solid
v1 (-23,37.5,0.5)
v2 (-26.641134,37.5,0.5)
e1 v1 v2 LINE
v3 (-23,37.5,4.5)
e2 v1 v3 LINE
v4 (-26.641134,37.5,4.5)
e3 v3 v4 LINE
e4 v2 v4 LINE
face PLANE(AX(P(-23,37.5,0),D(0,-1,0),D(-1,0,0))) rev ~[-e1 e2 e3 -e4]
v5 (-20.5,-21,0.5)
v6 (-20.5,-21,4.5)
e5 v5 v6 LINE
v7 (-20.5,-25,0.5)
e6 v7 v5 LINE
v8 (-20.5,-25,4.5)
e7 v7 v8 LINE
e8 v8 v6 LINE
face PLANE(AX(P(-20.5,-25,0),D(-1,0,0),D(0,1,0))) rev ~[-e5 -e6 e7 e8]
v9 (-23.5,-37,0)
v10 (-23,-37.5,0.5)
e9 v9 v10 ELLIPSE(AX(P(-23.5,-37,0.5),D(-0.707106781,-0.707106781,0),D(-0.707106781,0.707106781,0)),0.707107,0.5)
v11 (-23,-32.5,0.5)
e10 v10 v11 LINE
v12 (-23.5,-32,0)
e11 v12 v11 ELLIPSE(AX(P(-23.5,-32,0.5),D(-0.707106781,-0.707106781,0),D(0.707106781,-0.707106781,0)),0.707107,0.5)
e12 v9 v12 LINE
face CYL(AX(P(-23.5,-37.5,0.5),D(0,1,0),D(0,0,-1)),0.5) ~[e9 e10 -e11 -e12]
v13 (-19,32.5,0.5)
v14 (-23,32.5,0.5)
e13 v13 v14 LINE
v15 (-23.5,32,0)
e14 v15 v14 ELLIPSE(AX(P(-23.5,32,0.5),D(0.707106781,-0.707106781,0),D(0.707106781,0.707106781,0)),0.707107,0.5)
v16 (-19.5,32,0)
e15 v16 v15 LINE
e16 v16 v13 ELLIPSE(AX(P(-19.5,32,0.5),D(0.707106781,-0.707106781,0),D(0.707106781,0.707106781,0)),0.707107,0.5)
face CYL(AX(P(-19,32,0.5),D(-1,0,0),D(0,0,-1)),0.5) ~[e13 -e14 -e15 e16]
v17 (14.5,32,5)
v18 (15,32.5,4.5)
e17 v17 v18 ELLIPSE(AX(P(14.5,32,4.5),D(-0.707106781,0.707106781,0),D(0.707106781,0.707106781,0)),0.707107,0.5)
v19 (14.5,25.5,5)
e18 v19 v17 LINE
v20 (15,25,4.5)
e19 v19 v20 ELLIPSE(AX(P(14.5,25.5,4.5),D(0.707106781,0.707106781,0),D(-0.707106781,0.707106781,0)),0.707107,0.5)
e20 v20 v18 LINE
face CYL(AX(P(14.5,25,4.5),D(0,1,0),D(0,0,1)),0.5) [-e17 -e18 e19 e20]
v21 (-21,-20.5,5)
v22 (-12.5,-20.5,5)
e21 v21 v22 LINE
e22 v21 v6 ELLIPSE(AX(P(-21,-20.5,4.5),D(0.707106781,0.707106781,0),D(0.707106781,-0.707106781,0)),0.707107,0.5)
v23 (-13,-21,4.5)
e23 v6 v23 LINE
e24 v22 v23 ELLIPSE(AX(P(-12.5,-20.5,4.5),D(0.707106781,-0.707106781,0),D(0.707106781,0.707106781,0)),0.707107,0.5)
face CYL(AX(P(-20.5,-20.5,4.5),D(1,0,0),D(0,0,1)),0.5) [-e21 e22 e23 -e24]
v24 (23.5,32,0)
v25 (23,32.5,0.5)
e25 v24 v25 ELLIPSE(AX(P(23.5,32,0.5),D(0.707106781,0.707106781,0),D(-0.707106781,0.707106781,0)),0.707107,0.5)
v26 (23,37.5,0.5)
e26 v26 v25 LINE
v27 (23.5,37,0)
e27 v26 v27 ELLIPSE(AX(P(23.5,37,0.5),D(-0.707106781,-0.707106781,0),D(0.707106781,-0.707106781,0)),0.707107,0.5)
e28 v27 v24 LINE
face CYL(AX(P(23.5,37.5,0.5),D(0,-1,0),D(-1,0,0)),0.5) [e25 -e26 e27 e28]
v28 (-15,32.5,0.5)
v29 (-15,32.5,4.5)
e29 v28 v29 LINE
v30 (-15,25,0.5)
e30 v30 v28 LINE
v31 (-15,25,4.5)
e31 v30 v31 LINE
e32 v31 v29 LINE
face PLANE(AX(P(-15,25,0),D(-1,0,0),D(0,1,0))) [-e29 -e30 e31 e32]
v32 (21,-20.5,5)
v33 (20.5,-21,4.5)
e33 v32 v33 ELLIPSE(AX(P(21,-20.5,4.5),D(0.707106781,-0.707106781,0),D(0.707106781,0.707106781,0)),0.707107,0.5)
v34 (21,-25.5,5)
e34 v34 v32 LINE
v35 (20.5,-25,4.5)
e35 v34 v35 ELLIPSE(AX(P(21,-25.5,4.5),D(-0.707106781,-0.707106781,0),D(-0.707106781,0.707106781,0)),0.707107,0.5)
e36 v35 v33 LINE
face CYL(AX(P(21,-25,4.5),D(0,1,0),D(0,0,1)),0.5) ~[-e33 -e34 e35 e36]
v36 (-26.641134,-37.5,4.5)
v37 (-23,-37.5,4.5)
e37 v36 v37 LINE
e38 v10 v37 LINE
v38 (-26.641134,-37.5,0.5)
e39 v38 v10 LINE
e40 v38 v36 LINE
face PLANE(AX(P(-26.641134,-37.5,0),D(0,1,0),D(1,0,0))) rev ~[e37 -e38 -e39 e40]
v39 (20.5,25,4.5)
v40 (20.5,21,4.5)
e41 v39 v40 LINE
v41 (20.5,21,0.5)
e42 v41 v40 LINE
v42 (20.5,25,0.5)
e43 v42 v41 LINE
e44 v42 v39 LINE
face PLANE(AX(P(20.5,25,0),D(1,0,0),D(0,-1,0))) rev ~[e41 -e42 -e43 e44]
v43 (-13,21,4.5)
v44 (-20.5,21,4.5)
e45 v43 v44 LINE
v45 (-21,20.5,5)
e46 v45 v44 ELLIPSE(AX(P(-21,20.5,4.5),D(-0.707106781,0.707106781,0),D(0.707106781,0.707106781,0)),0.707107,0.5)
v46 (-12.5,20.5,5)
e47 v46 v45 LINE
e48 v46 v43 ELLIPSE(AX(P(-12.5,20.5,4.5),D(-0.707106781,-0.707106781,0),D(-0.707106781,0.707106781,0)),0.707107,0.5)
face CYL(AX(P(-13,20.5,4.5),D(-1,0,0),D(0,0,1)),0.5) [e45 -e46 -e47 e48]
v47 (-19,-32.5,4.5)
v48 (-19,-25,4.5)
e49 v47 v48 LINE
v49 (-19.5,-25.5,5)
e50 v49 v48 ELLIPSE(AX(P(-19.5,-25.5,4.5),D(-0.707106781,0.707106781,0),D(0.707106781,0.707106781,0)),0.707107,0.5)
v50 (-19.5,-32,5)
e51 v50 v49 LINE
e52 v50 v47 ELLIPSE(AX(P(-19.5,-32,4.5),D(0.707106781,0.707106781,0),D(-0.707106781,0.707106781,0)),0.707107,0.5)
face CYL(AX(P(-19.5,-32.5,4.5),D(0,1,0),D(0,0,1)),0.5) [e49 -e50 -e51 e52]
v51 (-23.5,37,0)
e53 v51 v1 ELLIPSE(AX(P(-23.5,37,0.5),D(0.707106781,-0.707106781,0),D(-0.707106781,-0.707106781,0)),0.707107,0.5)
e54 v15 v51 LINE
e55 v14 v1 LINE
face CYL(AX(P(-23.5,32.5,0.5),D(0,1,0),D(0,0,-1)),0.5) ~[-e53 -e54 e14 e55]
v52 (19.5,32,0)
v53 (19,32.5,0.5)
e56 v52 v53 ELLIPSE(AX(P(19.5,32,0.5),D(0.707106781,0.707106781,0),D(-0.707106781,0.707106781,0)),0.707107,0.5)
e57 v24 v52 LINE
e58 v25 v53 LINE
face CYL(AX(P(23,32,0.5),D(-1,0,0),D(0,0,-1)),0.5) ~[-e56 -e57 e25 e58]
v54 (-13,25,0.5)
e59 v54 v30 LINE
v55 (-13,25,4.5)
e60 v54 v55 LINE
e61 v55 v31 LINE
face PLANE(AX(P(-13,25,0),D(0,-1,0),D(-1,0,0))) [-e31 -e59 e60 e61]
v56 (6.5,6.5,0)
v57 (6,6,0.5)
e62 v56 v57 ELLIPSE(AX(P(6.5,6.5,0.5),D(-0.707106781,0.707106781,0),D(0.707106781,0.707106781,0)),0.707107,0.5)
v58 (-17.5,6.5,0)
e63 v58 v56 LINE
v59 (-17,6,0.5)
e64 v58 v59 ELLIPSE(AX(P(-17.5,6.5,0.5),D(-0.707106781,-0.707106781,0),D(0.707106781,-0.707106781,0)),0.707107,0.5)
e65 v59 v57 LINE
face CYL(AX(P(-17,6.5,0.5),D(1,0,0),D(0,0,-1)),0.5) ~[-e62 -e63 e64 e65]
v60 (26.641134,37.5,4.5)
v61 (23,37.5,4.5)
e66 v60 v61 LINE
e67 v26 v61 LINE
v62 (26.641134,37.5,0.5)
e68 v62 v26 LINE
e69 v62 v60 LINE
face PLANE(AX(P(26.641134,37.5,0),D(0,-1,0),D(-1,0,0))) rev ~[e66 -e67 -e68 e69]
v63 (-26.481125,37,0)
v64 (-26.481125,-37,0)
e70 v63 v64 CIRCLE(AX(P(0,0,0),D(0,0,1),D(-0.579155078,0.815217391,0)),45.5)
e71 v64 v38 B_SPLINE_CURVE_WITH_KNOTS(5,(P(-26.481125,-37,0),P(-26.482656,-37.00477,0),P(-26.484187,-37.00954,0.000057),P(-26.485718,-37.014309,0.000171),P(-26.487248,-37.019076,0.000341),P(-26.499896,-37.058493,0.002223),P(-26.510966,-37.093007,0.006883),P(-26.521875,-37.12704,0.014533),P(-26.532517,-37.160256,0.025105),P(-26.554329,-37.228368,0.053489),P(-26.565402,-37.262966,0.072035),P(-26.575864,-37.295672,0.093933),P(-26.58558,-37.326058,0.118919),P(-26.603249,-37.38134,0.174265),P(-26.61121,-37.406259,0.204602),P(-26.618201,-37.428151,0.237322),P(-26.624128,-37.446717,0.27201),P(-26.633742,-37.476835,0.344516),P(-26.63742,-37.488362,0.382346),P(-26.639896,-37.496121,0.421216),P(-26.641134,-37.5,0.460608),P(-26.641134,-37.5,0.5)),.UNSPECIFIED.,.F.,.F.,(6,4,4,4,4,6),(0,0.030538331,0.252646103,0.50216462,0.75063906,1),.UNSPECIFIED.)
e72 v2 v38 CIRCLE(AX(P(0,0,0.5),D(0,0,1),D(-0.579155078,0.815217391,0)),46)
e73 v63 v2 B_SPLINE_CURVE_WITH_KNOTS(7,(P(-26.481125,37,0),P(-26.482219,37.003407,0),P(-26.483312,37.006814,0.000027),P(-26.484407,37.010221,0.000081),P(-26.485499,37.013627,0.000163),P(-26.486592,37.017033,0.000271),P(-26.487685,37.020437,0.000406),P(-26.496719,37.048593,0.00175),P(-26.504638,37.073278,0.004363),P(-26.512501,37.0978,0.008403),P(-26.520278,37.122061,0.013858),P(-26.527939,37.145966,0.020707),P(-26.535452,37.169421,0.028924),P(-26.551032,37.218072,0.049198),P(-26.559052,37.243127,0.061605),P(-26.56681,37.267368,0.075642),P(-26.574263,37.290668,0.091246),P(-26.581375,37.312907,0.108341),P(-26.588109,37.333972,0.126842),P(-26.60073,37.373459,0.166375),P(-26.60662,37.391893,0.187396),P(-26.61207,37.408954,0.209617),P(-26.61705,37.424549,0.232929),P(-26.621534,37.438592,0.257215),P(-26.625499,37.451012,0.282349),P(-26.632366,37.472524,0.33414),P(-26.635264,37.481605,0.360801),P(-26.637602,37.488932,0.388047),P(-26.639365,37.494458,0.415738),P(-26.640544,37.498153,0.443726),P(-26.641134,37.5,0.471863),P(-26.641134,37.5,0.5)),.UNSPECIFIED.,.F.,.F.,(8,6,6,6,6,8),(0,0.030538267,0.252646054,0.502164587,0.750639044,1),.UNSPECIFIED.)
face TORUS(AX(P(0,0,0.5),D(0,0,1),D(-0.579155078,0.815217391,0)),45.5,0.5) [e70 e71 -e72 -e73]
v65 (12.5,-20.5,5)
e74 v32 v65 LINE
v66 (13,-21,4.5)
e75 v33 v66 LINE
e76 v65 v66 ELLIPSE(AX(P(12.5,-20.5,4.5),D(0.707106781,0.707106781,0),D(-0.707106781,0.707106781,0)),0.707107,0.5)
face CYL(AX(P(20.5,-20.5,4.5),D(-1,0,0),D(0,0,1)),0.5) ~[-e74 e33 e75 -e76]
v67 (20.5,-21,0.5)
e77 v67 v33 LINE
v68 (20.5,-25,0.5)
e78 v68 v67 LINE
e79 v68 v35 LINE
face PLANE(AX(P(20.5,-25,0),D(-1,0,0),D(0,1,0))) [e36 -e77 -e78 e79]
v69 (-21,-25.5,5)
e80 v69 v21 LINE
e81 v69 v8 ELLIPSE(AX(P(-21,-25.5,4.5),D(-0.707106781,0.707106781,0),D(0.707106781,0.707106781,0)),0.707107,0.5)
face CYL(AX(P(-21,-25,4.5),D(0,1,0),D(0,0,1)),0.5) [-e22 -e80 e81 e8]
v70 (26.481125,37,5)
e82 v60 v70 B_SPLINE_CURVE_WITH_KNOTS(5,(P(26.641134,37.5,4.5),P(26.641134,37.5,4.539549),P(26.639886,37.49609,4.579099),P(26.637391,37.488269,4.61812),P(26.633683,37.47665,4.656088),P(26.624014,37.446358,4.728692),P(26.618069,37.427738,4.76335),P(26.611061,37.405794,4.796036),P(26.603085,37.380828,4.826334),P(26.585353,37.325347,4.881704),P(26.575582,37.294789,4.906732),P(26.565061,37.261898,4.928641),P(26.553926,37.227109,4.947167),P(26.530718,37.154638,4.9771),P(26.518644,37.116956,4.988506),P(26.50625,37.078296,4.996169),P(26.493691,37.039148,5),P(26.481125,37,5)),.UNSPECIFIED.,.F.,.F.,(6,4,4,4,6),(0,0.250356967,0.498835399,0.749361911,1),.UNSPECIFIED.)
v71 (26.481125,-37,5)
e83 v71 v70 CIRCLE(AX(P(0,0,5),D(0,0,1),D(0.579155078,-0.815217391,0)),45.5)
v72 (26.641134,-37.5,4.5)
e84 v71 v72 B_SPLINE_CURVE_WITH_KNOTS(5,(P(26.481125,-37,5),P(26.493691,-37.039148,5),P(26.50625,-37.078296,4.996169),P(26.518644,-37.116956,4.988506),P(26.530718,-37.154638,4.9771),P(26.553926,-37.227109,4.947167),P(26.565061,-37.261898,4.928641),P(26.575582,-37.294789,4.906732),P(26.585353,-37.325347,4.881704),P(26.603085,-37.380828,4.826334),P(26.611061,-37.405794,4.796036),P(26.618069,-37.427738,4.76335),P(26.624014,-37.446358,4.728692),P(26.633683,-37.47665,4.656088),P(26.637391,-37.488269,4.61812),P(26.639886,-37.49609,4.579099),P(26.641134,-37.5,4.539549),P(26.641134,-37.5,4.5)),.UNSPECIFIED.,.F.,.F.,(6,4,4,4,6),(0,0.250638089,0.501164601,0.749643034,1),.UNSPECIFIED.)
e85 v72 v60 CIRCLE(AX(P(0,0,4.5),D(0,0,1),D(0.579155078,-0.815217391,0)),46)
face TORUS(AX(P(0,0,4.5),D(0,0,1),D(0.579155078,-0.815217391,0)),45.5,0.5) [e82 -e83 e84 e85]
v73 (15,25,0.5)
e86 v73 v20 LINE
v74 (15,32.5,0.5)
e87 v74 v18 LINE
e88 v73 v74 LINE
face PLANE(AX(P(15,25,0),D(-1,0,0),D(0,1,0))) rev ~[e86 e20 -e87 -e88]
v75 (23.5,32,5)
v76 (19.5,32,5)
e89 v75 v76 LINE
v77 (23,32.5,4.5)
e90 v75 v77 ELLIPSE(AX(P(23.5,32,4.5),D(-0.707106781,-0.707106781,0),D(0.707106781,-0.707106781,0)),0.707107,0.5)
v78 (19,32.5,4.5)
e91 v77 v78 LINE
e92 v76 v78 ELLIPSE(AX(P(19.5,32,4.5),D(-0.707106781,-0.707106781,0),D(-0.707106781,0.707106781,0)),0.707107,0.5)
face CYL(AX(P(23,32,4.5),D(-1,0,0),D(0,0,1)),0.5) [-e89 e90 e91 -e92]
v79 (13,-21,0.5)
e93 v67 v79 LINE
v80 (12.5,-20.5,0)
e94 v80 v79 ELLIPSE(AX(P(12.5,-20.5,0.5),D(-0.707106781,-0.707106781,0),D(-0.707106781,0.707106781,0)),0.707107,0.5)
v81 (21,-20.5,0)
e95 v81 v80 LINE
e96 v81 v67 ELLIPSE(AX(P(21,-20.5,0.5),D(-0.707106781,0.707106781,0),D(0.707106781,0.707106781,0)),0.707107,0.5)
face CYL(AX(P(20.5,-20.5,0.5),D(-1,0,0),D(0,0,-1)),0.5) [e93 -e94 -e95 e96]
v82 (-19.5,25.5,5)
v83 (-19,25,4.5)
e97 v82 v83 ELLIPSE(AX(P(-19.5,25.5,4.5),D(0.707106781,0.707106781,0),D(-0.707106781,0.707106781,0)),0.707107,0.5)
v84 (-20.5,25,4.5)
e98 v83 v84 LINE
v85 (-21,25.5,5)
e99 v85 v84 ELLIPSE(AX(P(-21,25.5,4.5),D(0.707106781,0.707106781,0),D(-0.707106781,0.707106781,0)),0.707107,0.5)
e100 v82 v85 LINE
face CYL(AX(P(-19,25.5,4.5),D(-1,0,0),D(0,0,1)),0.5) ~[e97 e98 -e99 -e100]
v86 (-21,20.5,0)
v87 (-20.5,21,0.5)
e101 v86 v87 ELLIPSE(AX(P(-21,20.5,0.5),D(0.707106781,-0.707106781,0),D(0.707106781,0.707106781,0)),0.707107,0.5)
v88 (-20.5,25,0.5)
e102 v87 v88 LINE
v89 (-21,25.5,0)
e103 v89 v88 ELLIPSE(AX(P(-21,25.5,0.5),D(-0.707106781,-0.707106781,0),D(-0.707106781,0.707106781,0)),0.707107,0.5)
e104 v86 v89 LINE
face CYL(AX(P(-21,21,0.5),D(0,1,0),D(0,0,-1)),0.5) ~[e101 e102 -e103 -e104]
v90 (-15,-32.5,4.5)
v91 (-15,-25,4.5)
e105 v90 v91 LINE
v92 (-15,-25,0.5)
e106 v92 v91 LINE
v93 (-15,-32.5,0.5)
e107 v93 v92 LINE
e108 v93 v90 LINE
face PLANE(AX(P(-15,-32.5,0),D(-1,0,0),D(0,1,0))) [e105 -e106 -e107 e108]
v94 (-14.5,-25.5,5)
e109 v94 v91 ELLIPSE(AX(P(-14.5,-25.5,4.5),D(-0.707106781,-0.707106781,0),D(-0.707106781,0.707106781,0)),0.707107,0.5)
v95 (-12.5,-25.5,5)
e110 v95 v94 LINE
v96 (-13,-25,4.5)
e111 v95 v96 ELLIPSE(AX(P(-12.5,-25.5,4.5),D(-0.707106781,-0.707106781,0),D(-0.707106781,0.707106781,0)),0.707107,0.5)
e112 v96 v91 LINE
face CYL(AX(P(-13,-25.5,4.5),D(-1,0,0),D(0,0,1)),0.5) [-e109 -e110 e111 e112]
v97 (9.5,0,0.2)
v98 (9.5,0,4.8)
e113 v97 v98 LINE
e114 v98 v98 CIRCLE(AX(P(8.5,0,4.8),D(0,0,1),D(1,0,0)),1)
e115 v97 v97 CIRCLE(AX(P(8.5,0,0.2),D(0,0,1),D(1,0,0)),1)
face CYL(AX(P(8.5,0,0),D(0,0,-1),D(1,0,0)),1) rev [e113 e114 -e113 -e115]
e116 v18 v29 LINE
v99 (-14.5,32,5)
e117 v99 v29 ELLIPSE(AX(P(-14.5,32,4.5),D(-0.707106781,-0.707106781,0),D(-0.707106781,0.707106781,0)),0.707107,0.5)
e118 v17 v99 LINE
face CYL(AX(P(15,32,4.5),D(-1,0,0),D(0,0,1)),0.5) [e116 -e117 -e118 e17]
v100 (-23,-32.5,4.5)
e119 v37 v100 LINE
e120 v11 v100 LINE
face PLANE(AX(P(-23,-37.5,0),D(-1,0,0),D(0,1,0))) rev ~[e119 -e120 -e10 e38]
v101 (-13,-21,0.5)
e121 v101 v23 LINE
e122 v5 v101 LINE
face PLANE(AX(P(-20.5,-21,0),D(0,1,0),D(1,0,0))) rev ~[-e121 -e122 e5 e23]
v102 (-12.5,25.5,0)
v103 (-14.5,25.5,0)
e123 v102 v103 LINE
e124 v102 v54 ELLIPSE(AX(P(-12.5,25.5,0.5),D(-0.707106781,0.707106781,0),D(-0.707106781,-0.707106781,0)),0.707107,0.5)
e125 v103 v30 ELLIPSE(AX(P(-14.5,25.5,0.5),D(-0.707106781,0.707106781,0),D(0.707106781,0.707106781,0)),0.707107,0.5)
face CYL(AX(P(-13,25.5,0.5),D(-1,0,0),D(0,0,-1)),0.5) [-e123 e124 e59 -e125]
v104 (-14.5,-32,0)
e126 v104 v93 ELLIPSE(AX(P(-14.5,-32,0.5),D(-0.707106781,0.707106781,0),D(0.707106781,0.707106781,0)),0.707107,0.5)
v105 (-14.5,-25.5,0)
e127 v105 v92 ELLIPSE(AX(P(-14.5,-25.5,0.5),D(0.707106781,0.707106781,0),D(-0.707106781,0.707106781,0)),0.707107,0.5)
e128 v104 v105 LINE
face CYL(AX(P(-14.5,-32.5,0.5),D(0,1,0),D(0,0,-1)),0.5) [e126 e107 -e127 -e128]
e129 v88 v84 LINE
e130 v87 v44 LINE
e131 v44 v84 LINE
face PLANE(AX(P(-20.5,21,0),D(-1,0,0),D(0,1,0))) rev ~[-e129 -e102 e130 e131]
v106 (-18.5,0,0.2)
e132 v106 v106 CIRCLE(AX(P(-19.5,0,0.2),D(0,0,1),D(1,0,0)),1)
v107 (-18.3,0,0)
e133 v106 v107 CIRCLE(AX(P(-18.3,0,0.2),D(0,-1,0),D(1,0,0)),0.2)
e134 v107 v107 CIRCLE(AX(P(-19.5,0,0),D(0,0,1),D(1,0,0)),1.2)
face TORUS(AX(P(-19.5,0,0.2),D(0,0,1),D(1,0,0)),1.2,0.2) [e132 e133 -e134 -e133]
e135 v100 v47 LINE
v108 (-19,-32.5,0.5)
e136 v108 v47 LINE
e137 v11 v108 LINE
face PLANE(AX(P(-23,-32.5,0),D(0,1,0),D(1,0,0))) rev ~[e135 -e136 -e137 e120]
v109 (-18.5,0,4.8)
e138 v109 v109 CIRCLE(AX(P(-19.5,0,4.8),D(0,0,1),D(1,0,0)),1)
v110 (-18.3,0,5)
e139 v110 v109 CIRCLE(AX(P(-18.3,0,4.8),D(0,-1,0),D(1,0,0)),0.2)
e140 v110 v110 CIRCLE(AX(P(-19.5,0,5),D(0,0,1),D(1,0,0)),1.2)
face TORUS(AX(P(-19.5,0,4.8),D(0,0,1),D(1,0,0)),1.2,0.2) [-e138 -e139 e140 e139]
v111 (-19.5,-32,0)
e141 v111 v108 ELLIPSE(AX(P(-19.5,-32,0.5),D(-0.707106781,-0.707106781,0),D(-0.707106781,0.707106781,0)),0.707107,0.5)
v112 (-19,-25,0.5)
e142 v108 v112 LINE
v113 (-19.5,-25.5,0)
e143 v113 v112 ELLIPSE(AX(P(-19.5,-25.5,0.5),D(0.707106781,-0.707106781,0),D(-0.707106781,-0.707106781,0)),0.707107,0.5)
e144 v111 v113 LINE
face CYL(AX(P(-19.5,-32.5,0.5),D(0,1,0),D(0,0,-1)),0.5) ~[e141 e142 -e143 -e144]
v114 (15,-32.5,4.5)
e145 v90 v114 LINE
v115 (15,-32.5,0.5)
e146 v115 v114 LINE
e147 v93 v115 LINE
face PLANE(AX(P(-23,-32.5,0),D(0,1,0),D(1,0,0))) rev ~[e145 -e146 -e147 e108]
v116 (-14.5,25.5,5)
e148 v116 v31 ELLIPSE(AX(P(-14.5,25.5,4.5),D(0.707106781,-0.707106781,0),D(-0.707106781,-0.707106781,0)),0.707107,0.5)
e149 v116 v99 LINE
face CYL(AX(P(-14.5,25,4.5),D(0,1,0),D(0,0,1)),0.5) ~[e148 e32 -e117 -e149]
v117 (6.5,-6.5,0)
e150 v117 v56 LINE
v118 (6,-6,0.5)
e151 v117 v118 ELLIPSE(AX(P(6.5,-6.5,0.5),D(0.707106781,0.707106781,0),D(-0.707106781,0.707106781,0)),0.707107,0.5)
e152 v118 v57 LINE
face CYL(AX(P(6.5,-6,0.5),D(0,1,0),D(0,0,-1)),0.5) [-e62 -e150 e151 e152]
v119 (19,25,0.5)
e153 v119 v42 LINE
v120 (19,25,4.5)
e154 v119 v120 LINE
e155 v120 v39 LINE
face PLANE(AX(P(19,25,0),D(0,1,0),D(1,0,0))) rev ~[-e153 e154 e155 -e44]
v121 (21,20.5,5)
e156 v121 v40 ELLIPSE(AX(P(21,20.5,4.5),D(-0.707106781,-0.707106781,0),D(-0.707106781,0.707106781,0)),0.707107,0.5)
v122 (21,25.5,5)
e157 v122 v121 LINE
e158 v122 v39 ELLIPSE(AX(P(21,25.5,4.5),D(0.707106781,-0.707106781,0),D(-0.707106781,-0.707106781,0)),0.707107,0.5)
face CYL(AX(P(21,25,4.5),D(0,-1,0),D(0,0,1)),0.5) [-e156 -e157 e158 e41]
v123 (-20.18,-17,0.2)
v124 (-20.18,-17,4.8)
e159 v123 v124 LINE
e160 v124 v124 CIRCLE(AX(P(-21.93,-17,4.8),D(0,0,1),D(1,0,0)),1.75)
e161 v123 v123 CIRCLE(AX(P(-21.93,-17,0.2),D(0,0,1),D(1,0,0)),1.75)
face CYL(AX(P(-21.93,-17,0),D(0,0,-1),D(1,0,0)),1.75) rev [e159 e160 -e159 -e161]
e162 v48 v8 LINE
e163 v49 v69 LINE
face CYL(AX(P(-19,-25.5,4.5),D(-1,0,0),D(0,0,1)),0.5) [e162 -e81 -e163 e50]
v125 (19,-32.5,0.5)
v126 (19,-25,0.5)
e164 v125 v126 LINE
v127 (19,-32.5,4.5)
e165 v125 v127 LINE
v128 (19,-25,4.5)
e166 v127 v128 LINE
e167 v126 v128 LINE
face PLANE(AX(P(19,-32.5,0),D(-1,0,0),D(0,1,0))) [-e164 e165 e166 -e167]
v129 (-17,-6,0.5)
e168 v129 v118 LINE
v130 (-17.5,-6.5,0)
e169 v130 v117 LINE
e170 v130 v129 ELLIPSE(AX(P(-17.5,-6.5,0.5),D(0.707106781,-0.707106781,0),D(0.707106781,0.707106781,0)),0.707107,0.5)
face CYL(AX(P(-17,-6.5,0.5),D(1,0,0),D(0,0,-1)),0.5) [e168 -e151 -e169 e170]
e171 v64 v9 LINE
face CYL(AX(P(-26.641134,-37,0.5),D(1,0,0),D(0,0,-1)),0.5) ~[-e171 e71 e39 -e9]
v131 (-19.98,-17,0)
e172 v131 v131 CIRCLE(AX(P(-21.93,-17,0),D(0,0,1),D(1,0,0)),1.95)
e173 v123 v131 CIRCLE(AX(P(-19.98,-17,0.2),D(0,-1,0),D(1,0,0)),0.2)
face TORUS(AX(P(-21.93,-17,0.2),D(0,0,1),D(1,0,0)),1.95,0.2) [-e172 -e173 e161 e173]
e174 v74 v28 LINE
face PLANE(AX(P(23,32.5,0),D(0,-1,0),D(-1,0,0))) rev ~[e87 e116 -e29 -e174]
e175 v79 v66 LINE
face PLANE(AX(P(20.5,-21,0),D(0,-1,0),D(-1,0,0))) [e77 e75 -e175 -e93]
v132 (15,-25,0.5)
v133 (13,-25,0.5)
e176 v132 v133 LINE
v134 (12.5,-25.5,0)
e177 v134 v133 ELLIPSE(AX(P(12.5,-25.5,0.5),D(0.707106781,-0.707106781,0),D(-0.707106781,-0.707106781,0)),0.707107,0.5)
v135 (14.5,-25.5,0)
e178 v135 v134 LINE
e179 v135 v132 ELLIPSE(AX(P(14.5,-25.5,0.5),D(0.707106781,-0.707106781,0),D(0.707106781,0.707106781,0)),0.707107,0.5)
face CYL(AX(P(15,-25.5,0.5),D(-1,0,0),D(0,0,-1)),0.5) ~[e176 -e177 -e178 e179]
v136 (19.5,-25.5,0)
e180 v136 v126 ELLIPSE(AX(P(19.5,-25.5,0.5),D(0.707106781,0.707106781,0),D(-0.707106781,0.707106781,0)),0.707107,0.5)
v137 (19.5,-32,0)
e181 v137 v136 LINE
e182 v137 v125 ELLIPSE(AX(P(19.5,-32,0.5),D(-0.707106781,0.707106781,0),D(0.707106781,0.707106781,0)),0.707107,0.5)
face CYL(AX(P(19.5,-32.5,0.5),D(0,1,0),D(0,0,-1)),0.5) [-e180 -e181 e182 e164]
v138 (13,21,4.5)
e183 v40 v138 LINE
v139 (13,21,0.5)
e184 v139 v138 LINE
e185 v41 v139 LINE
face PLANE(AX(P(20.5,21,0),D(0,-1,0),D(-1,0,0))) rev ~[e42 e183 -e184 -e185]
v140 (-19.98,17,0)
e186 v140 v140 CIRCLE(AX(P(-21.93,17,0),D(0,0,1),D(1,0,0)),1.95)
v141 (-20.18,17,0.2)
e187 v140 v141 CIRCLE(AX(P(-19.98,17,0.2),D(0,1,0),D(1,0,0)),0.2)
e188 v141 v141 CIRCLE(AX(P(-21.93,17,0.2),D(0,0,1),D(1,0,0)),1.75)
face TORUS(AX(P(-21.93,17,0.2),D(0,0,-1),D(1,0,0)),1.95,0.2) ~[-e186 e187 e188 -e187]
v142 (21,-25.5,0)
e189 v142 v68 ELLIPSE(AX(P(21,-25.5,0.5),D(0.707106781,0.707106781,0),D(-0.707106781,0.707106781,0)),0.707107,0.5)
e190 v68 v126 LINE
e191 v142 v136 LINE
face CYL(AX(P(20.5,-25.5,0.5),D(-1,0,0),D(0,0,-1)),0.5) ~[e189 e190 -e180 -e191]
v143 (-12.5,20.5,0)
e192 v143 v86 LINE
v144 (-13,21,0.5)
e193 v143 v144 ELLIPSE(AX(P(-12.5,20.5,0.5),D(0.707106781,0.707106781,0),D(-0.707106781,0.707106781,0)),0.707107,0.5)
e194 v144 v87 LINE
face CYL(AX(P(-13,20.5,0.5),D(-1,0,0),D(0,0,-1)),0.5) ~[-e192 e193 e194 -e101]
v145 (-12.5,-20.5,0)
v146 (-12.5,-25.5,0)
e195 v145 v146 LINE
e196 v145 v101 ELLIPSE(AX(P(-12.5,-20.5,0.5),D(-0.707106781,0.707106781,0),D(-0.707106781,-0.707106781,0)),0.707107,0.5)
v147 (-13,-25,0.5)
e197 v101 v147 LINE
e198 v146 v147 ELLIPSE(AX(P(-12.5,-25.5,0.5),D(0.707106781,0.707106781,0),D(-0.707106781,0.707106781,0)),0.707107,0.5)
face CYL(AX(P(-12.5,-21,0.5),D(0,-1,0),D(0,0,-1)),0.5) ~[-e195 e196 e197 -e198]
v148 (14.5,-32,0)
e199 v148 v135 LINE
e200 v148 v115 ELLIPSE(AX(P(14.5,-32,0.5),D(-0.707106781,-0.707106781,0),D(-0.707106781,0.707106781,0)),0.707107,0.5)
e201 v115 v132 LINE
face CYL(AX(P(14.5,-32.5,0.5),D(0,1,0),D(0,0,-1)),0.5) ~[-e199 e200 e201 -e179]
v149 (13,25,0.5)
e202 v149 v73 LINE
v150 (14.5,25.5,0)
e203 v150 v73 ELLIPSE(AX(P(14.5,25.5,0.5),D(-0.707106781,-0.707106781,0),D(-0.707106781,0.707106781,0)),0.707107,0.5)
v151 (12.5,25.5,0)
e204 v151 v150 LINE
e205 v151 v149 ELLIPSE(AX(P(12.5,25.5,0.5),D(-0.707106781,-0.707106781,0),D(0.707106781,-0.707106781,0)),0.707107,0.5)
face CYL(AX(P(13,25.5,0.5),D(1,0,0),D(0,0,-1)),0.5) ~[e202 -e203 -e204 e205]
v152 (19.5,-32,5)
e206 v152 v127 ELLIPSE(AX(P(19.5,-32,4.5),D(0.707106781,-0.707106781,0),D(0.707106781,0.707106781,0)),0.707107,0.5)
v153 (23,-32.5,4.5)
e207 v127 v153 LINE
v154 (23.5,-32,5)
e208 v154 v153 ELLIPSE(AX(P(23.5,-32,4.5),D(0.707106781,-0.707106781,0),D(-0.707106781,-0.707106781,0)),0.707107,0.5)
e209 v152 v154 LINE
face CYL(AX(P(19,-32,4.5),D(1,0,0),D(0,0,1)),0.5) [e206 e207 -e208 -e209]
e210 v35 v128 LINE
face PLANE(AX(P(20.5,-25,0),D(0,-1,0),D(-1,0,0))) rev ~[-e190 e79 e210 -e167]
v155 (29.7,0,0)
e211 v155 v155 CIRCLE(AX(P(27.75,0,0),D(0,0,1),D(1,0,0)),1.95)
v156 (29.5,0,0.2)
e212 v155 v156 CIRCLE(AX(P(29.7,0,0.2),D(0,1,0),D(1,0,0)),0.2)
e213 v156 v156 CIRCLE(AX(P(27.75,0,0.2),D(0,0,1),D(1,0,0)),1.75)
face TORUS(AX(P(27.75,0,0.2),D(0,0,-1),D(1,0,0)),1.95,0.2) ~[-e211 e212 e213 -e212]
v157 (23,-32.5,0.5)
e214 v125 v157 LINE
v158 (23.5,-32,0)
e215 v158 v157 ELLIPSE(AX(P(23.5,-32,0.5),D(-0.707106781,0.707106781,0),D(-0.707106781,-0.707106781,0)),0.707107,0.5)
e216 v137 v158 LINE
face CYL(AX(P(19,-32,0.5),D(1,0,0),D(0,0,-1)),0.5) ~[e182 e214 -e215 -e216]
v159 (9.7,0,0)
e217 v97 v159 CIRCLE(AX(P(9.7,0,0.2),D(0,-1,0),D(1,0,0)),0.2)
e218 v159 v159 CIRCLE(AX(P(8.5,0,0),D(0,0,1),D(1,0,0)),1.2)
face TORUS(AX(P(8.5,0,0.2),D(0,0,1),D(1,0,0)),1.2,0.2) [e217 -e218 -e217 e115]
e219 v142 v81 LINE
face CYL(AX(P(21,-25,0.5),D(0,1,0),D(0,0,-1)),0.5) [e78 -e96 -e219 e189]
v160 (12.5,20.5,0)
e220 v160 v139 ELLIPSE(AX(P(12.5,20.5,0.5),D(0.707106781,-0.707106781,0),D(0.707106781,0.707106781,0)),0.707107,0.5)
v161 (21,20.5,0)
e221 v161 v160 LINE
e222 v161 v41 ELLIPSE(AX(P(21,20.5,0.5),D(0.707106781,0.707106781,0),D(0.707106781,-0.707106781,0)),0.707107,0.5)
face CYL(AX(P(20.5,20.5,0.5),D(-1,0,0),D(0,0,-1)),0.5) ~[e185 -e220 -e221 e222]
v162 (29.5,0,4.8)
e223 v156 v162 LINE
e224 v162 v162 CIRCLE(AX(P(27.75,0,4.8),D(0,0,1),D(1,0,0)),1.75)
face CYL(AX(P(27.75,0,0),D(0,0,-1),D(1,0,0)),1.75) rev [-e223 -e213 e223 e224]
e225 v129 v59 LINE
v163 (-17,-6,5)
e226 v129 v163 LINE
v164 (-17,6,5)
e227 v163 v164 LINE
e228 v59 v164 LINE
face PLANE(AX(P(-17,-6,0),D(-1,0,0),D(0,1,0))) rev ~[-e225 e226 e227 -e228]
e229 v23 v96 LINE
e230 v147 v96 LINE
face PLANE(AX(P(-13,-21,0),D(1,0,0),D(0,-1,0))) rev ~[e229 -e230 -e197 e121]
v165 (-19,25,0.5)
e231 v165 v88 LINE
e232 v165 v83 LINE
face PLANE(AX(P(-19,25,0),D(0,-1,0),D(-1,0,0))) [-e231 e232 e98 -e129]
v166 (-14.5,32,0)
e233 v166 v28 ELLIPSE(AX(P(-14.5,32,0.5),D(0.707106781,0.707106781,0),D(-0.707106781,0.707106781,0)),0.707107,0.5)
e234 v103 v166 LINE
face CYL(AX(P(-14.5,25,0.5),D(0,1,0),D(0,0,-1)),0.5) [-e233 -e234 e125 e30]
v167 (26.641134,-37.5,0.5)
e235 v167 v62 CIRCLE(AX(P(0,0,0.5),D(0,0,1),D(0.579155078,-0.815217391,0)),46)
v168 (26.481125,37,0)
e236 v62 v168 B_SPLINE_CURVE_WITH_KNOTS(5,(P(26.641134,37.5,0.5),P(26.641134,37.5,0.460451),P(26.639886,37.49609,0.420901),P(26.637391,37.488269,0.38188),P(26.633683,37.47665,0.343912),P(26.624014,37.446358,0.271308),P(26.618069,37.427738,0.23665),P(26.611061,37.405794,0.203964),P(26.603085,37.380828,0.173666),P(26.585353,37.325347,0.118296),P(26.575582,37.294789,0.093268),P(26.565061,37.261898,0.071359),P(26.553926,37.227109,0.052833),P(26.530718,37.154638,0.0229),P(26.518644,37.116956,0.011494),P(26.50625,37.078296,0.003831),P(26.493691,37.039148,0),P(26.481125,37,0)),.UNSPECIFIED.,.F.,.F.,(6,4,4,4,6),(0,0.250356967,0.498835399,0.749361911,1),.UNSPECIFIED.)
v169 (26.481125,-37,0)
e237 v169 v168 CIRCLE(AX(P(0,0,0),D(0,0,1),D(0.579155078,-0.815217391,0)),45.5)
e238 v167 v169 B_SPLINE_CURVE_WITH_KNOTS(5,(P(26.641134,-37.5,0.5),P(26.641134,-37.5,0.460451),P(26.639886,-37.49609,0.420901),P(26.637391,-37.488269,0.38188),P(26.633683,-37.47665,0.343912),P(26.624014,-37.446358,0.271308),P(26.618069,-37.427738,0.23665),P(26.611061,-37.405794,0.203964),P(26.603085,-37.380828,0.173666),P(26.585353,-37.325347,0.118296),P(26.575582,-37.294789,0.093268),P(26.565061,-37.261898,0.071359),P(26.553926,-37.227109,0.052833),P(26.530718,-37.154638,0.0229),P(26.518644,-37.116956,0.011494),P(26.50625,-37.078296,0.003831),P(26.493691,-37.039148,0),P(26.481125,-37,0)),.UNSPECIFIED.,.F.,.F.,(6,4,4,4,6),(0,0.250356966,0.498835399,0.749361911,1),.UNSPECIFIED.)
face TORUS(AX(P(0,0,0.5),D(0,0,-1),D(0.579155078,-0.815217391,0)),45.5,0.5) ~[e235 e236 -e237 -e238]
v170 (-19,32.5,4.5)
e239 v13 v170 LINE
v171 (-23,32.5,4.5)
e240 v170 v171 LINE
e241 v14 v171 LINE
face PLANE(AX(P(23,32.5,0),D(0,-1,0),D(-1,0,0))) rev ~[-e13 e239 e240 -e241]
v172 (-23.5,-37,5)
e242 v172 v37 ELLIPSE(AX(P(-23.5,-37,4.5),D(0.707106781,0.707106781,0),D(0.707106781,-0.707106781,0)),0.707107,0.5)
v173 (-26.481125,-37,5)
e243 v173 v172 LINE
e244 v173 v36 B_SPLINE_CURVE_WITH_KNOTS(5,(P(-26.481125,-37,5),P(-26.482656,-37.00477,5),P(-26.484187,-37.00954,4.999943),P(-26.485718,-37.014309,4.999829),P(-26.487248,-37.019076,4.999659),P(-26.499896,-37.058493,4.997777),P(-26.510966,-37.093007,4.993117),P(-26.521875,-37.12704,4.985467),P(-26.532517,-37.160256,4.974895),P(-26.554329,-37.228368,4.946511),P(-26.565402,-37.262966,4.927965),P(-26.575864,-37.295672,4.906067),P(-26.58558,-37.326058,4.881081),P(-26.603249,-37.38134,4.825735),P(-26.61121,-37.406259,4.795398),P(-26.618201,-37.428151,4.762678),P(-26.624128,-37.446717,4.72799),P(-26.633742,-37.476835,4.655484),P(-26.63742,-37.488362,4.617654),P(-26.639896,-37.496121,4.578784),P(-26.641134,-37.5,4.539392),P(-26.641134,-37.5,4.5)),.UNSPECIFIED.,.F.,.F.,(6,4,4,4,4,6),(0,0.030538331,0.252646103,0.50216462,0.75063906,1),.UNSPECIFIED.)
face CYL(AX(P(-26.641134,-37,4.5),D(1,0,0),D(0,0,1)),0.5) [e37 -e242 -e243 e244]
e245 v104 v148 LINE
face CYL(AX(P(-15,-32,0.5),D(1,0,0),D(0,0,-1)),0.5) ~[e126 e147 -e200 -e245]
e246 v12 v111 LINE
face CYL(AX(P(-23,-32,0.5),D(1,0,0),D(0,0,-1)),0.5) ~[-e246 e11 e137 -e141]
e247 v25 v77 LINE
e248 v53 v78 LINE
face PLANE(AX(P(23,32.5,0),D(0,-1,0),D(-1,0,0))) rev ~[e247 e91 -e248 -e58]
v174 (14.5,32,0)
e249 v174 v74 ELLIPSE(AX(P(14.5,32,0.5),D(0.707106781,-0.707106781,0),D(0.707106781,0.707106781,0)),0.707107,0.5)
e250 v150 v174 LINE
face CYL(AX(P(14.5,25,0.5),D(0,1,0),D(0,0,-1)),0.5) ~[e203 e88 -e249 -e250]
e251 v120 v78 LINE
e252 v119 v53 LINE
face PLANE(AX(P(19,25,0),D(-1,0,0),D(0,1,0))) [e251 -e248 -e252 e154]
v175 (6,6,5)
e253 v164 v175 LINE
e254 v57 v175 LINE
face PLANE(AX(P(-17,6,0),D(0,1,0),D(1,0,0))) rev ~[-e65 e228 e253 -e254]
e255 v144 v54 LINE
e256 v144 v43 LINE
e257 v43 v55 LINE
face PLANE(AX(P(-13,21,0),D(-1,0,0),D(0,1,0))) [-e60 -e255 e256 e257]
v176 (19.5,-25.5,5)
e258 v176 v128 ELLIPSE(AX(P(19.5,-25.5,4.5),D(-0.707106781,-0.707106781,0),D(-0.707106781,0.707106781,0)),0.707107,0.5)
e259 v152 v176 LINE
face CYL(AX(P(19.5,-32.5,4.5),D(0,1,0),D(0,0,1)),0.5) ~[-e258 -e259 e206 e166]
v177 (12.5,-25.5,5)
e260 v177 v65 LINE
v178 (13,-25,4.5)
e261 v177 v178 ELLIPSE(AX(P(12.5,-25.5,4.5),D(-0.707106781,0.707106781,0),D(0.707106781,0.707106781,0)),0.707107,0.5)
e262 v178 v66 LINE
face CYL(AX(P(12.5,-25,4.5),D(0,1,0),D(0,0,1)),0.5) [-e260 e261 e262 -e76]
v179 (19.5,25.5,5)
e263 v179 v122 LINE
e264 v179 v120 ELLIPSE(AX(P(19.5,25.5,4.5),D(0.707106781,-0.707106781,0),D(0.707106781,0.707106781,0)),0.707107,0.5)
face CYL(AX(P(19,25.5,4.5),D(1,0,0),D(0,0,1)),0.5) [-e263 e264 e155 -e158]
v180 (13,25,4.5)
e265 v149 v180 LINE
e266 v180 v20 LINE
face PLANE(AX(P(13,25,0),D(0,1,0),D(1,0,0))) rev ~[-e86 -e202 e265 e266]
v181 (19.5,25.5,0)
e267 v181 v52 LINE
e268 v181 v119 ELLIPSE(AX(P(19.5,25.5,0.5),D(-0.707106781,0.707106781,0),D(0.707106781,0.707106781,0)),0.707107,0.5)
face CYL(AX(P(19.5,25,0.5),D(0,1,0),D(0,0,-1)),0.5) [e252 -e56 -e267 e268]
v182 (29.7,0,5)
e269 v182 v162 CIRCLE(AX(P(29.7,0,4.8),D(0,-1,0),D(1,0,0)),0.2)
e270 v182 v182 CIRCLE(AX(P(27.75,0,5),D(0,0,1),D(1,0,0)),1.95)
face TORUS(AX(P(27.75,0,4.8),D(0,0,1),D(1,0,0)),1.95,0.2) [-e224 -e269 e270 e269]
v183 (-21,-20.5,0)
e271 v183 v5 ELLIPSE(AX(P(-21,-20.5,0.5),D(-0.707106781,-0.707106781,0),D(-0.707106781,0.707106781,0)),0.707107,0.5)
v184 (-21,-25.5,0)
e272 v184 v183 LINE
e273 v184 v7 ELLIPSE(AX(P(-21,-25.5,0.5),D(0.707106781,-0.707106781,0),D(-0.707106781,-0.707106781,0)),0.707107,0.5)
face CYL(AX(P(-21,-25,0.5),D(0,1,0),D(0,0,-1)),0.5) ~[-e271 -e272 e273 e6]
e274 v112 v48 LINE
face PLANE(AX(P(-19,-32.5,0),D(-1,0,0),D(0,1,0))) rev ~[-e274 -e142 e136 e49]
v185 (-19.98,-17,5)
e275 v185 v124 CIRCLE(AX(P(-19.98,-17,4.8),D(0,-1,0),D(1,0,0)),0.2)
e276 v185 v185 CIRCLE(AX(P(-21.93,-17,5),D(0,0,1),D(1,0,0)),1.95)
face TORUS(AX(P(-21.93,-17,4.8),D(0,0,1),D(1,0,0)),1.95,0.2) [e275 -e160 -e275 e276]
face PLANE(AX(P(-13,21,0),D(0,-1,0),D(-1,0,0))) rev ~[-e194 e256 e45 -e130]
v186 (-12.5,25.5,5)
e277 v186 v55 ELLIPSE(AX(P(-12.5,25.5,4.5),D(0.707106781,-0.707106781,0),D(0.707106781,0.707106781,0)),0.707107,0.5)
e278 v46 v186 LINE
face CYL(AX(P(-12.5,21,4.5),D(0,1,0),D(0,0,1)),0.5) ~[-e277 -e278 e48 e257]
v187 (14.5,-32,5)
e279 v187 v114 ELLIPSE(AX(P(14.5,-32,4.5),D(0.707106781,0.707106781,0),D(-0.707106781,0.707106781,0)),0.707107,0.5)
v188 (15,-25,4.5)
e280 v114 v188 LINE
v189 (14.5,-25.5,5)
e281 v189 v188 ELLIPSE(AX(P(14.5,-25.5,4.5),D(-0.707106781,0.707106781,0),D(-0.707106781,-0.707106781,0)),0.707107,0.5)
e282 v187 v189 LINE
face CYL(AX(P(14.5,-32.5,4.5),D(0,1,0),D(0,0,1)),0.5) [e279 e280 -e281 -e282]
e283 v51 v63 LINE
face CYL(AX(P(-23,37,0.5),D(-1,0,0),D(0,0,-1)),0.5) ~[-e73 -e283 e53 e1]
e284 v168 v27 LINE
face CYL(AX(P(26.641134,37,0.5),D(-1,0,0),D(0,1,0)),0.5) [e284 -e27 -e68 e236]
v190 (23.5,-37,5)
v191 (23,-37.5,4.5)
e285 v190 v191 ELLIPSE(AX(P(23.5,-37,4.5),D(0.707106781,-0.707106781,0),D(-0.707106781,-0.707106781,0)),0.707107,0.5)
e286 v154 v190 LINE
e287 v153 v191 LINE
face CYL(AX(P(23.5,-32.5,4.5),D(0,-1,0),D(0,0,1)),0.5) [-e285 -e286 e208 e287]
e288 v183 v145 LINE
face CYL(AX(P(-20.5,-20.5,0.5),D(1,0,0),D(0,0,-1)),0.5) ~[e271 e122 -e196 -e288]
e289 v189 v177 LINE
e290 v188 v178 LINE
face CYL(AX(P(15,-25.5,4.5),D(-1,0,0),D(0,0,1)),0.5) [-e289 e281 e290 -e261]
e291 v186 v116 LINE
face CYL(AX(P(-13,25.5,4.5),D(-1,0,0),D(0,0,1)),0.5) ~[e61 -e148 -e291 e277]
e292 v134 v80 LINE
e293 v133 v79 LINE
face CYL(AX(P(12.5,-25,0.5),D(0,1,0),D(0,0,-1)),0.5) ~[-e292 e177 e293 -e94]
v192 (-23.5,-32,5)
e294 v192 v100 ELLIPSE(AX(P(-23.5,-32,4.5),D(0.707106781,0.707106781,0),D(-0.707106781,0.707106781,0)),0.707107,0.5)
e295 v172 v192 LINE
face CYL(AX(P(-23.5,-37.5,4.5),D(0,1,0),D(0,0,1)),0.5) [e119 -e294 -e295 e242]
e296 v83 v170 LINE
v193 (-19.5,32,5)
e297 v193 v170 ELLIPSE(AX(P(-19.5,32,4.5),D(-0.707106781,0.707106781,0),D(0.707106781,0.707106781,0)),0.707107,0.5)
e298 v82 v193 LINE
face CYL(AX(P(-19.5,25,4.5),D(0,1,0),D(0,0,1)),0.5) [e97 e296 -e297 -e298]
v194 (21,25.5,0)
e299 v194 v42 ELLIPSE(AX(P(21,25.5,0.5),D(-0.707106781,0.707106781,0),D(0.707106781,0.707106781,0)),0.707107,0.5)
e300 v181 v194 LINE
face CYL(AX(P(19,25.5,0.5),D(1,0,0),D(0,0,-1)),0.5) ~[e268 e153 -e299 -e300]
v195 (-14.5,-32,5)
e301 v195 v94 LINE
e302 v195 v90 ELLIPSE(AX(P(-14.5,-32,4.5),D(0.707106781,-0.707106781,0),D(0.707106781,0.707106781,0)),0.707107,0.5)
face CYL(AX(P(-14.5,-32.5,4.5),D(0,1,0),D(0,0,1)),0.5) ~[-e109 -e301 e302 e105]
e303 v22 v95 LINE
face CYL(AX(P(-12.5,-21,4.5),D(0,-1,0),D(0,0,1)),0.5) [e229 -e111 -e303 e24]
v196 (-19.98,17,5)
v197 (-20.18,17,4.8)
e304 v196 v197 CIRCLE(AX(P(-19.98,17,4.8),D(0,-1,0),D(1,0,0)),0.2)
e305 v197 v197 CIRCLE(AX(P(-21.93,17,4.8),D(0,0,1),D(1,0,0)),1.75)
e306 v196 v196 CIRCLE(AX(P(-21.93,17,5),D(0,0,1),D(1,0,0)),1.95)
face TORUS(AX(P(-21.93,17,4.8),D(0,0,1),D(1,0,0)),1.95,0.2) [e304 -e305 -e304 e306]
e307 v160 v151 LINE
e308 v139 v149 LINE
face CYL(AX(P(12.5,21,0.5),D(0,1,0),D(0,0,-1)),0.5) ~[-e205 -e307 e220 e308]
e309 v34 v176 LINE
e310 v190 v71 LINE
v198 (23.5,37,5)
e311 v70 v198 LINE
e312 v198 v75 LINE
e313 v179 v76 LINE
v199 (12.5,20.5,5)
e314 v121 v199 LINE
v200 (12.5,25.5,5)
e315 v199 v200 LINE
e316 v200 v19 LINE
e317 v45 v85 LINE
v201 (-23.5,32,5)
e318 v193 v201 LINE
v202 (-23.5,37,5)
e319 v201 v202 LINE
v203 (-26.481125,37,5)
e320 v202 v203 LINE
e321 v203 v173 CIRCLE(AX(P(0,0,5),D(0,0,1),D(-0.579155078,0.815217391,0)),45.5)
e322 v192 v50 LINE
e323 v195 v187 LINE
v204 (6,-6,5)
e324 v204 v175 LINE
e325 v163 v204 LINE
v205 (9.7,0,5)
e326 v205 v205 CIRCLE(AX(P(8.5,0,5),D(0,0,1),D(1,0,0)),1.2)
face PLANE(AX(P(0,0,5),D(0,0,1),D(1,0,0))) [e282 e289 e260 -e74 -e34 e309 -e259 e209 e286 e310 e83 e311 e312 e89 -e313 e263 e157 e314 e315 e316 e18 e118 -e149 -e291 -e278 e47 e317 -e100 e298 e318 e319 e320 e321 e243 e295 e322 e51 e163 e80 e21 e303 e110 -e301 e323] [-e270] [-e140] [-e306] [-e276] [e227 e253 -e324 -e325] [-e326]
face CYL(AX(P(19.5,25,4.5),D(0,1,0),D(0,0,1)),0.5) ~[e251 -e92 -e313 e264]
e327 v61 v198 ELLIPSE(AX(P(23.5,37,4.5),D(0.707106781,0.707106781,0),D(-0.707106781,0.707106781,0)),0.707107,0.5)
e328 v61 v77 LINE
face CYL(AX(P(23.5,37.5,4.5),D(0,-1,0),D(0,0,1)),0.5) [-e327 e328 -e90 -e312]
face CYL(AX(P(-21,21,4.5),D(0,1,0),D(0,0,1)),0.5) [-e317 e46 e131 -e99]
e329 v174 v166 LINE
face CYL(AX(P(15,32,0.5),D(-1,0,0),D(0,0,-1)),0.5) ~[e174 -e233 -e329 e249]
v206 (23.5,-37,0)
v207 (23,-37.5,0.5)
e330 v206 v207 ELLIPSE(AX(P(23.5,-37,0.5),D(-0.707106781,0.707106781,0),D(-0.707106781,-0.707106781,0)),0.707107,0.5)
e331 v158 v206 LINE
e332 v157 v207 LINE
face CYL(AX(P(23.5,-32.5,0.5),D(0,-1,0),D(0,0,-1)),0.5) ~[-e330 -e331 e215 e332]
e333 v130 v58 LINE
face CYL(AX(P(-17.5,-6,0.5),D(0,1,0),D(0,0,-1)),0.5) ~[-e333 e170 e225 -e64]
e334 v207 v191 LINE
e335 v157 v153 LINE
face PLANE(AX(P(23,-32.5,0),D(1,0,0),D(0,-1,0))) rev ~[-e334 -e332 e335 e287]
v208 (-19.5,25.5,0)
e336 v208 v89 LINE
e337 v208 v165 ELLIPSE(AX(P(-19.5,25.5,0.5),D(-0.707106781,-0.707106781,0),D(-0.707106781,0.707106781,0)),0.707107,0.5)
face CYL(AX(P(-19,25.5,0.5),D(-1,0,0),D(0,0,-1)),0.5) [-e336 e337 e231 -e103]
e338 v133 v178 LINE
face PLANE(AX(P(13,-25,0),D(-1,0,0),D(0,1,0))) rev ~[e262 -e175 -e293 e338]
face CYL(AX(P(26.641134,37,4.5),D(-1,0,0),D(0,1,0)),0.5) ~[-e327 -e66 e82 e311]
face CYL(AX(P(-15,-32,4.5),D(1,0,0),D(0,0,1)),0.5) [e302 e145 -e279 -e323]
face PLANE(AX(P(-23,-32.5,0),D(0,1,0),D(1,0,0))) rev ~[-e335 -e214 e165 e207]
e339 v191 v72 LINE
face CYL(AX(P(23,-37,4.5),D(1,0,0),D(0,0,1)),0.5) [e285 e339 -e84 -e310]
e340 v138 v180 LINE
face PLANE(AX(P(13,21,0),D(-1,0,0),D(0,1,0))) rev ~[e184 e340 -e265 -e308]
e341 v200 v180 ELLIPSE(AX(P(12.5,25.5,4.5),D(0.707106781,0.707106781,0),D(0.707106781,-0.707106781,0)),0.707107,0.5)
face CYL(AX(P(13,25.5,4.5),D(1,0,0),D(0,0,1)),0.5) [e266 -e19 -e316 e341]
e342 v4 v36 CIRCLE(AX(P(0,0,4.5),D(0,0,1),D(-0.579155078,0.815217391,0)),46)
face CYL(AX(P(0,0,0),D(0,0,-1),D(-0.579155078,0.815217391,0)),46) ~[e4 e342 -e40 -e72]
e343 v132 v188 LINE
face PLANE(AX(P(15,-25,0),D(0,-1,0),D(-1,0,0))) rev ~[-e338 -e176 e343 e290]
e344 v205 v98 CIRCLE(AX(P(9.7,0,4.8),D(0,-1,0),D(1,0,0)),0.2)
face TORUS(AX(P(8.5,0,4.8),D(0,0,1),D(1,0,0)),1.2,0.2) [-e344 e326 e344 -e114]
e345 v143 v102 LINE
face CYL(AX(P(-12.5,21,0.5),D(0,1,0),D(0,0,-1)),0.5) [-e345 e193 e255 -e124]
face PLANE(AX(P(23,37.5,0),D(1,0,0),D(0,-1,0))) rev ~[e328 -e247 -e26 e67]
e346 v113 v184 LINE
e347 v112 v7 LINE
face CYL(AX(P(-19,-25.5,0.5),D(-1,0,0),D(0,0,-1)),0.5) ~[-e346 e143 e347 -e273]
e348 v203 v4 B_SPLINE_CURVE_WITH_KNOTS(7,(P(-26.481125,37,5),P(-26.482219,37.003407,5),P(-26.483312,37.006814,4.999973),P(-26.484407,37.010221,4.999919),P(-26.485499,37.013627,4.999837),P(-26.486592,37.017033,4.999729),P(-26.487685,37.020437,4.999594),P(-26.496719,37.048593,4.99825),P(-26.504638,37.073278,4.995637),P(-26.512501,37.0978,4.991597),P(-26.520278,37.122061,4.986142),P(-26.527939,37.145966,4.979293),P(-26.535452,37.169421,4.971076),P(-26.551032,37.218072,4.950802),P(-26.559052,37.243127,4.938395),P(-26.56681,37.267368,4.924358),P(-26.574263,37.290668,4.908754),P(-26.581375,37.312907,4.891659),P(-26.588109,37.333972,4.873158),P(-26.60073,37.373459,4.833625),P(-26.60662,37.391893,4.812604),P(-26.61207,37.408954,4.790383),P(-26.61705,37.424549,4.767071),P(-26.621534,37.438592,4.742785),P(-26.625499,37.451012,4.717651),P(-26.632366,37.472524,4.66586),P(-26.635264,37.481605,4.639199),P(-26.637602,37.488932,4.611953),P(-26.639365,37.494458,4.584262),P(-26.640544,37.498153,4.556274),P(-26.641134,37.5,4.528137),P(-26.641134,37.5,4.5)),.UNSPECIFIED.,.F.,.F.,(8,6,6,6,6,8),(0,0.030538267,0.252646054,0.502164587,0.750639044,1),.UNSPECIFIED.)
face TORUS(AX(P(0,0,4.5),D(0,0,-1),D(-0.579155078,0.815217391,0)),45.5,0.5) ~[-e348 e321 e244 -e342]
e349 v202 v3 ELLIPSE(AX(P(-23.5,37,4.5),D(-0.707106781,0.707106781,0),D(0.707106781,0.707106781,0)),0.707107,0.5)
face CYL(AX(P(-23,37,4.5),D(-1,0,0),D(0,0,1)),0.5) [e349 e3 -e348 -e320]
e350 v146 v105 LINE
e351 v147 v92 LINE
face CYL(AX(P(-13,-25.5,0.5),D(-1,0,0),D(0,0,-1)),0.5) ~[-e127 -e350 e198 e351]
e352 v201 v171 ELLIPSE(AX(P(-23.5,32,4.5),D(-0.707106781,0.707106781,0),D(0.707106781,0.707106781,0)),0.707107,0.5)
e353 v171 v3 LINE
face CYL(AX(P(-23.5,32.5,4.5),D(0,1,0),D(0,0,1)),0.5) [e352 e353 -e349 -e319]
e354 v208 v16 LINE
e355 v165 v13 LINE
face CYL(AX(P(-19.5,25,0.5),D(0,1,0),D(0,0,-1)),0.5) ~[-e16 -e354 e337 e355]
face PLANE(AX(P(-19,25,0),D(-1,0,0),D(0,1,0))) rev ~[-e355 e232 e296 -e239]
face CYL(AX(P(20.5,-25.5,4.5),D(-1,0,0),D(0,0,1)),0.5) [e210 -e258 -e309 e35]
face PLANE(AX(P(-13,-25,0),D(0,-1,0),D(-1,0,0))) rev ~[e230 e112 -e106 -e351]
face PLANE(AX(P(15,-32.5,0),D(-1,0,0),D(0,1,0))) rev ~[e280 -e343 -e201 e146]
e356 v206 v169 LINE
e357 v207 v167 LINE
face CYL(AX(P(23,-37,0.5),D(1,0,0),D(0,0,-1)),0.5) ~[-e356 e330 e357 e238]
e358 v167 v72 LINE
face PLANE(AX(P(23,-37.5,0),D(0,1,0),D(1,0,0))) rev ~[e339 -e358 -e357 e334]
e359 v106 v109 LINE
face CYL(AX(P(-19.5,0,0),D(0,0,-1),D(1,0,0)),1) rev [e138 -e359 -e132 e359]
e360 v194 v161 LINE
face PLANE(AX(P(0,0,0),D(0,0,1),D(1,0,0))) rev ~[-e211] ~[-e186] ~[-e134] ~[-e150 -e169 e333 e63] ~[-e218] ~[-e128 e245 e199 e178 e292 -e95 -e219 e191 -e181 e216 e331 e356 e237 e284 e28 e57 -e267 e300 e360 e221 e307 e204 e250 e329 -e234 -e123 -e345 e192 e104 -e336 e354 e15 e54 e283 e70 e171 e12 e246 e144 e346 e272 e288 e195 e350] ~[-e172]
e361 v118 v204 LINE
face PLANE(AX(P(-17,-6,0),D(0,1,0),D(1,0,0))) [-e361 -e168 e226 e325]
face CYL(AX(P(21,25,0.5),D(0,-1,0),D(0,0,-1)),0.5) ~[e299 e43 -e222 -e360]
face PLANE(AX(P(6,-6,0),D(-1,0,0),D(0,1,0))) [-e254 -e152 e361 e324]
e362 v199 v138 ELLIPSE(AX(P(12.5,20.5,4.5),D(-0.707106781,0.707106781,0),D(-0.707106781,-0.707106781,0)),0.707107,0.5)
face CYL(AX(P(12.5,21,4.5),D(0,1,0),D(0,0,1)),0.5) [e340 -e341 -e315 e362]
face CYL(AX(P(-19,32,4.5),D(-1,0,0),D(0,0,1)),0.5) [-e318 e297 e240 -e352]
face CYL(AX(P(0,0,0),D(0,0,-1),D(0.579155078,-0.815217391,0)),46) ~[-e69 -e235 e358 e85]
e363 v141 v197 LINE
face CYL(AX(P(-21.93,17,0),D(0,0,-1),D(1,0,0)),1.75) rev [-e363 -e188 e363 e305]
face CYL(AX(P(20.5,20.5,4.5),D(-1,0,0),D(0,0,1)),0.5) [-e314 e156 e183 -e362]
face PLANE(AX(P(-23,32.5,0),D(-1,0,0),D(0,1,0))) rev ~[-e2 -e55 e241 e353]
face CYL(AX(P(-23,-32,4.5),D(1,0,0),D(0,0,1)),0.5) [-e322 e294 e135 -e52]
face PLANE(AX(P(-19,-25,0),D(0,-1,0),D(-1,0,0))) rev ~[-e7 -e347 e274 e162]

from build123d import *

# Parameters (mm, degrees)
SKETCH1_R           = 1
SKETCH1_R_2         = 1.75
SKETCH1_W           = 23
SKETCH1_H           = 12
BOSS_EXTRUDE1_DEPTH = 5
SKETCH3_W           = 4
SKETCH3_H           = 7.5
SKETCH3_W_2         = 7.5
SKETCH3_H_2         = 4
CUT_EXTRUDE1_DEPTH  = 5
FILLET1_R           = 0.5
FILLET2_R           = 0.5
FILLET3_R           = 0.2
FILLET4_R           = 0.2


with BuildPart() as part:
    # Sketch1 → Boss-Extrude1 (new body)
    with BuildSketch(Plane.XY):
        with BuildLine():
            Line((26.64113361, 37.5), (23, 37.5))
            Line((23, 37.5), (23, 32.5))
            Line((23, 32.5), (-23, 32.5))
            Line((-23, 32.5), (-23, 37.5))
            Line((-23, 37.5), (-26.64113361, 37.5))
            ThreePointArc((-26.64113361, 37.5), (-46, 0), (-26.64113361, -37.5))
            Line((-26.64113361, -37.5), (-23, -37.5))
            Line((-23, -37.5), (-23, -32.5))
            Line((-23, -32.5), (23, -32.5))
            Line((23, -32.5), (23, -37.5))
            Line((23, -37.5), (26.64113361, -37.5))
            ThreePointArc((26.64113361, -37.5), (46, 0), (26.64113361, 37.5))
        make_face()
        with Locations((8.5, 0)):
            Circle(SKETCH1_R, mode=Mode.SUBTRACT)
        with Locations((-19.5, 0)):
            Circle(SKETCH1_R, mode=Mode.SUBTRACT)
        with Locations((-21.93, -17)):
            Circle(SKETCH1_R_2, mode=Mode.SUBTRACT)
        with Locations((-21.93, 17)):
            Circle(SKETCH1_R_2, mode=Mode.SUBTRACT)
        with Locations((27.75, 0)):
            Circle(SKETCH1_R_2, mode=Mode.SUBTRACT)
        with Locations((-5.5, 0)):
            Rectangle(SKETCH1_W, SKETCH1_H, mode=Mode.SUBTRACT)
    extrude(amount=BOSS_EXTRUDE1_DEPTH)

    # Sketch3 → Cut-Extrude1 (cut)
    with BuildSketch(Plane(origin=(0, 0, 0), x_dir=(-1, 0, 0), z_dir=(0, 0, -1))):
        with Locations((17, 28.75)):
            Rectangle(SKETCH3_W, SKETCH3_H)
        with Locations((16.75, 23)):
            Rectangle(SKETCH3_W_2, SKETCH3_H_2)
        with Locations((-17, 28.75)):
            Rectangle(SKETCH3_W, SKETCH3_H)
        Polygon((-13, 25), (-15, 25), (-19, 25), (-20.5, 25), (-20.5, 21), (-13, 21), align=None)
        with Locations((-16.75, -23)):
            Rectangle(SKETCH3_W_2, SKETCH3_H_2)
        with Locations((-17, -28.75)):
            Rectangle(SKETCH3_W, SKETCH3_H)
        with Locations((17, -28.75)):
            Rectangle(SKETCH3_W, SKETCH3_H)
        Polygon((20.5, -25), (20.5, -21), (13, -21), (13, -25), (15, -25), (19, -25), align=None)
    extrude(amount=-CUT_EXTRUDE1_DEPTH, mode=Mode.SUBTRACT)

    # Fillet1
    fillet1_edges = [part.edges().sort_by_distance(p)[0] for p in [
        (-15, -28.75, 0),
        (-14, -25, 0),
        (-13, -23, 0),
        (-19.75, -25, 0),
        (-19, -28.75, 0),
        (-20.5, -23, 0),
        (-16.75, -21, 0),
        (20.5, -23, 0),
        (16.75, -21, 0),
        (19, -28.75, 0),
        (19.75, -25, 0),
        (15, -28.75, 0),
        (14, -25, 0),
        (13, -23, 0),
        (23, -35, 0),
        (-21, -32.5, 0),
        (15, 28.75, 0),
        (14, 25, 0),
        (13, 23, 0),
        (-23, -35, 0),
        (19.75, 25, 0),
        (19, 28.75, 0),
        (20.5, 23, 0),
        (16.75, 21, 0),
        (-24.820566805, -37.5, 0),
        (-46, 0, 0),
        (-19, 28.75, 0),
        (-20.5, 23, 0),
        (-16.75, 21, 0),
        (-24.820566805, 37.5, 0),
        (-15, 28.75, 0),
        (-14, 25, 0),
        (-13, 23, 0),
        (-19.75, 25, 0),
        (-23, 35, 0),
        (21, 32.5, 0),
        (23, 35, 0),
        (24.820566805, 37.5, 0),
        (46, 0, 0),
        (24.820566805, -37.5, 0),
        (6, 0, 0),
        (-5.5, 6, 0),
        (-17, 0, 0),
        (-5.5, -6, 0),
        (0, -32.5, 0),
        (21, -32.5, 0),
        (0, 32.5, 0),
        (-21, 32.5, 0),
    ]]
    fillet(fillet1_edges, radius=FILLET1_R)

    # Fillet2
    fillet2_edges = [part.edges().sort_by_distance(p)[0] for p in [
        (-16.75, -21, 5),
        (-20.5, -23, 5),
        (-19, -28.75, 5),
        (-15, -28.75, 5),
        (-14, -25, 5),
        (-13, -23, 5),
        (-19.75, -25, 5),
        (13, -23, 5),
        (14, -25, 5),
        (15, -28.75, 5),
        (19.75, -25, 5),
        (20.5, -23, 5),
        (16.75, -21, 5),
        (19, -28.75, 5),
        (16.75, 21, 5),
        (20.5, 23, 5),
        (24.820566805, 37.5, 5),
        (19, 28.75, 5),
        (15, 28.75, 5),
        (14, 25, 5),
        (13, 23, 5),
        (19.75, 25, 5),
        (-19.75, 25, 5),
        (-13, 23, 5),
        (-14, 25, 5),
        (-15, 28.75, 5),
        (-19, 28.75, 5),
        (-20.5, 23, 5),
        (-16.75, 21, 5),
        (23, 35, 5),
        (21, 32.5, 5),
        (-23, 35, 5),
        (-24.820566805, 37.5, 5),
        (-46, 0, 5),
        (-24.820566805, -37.5, 5),
        (-23, -35, 5),
        (-21, -32.5, 5),
        (23, -35, 5),
        (24.820566805, -37.5, 5),
        (0, -32.5, 5),
        (21, -32.5, 5),
        (0, 32.5, 5),
        (-21, 32.5, 5),
        (46, 0, 5),
    ]]
    fillet(fillet2_edges, radius=FILLET2_R)

    # Fillet3
    fillet3_edges = [part.edges().sort_by_distance(p)[0] for p in [
        (7.5, 0, 5),
        (-20.5, 0, 5),
        (-23.68, -17, 5),
        (-23.68, 17, 0),
        (-23.68, 17, 5),
        (26, 0, 0),
        (26, 0, 5),
    ]]
    fillet(fillet3_edges, radius=FILLET3_R)

    # Fillet4
    fillet4_edges = [part.edges().sort_by_distance(p)[0] for p in [
        (7.5, 0, 0),
        (-20.5, 0, 0),
        (-23.68, -17, 0),
    ]]
    fillet(fillet4_edges, radius=FILLET4_R)


solid = part.part
